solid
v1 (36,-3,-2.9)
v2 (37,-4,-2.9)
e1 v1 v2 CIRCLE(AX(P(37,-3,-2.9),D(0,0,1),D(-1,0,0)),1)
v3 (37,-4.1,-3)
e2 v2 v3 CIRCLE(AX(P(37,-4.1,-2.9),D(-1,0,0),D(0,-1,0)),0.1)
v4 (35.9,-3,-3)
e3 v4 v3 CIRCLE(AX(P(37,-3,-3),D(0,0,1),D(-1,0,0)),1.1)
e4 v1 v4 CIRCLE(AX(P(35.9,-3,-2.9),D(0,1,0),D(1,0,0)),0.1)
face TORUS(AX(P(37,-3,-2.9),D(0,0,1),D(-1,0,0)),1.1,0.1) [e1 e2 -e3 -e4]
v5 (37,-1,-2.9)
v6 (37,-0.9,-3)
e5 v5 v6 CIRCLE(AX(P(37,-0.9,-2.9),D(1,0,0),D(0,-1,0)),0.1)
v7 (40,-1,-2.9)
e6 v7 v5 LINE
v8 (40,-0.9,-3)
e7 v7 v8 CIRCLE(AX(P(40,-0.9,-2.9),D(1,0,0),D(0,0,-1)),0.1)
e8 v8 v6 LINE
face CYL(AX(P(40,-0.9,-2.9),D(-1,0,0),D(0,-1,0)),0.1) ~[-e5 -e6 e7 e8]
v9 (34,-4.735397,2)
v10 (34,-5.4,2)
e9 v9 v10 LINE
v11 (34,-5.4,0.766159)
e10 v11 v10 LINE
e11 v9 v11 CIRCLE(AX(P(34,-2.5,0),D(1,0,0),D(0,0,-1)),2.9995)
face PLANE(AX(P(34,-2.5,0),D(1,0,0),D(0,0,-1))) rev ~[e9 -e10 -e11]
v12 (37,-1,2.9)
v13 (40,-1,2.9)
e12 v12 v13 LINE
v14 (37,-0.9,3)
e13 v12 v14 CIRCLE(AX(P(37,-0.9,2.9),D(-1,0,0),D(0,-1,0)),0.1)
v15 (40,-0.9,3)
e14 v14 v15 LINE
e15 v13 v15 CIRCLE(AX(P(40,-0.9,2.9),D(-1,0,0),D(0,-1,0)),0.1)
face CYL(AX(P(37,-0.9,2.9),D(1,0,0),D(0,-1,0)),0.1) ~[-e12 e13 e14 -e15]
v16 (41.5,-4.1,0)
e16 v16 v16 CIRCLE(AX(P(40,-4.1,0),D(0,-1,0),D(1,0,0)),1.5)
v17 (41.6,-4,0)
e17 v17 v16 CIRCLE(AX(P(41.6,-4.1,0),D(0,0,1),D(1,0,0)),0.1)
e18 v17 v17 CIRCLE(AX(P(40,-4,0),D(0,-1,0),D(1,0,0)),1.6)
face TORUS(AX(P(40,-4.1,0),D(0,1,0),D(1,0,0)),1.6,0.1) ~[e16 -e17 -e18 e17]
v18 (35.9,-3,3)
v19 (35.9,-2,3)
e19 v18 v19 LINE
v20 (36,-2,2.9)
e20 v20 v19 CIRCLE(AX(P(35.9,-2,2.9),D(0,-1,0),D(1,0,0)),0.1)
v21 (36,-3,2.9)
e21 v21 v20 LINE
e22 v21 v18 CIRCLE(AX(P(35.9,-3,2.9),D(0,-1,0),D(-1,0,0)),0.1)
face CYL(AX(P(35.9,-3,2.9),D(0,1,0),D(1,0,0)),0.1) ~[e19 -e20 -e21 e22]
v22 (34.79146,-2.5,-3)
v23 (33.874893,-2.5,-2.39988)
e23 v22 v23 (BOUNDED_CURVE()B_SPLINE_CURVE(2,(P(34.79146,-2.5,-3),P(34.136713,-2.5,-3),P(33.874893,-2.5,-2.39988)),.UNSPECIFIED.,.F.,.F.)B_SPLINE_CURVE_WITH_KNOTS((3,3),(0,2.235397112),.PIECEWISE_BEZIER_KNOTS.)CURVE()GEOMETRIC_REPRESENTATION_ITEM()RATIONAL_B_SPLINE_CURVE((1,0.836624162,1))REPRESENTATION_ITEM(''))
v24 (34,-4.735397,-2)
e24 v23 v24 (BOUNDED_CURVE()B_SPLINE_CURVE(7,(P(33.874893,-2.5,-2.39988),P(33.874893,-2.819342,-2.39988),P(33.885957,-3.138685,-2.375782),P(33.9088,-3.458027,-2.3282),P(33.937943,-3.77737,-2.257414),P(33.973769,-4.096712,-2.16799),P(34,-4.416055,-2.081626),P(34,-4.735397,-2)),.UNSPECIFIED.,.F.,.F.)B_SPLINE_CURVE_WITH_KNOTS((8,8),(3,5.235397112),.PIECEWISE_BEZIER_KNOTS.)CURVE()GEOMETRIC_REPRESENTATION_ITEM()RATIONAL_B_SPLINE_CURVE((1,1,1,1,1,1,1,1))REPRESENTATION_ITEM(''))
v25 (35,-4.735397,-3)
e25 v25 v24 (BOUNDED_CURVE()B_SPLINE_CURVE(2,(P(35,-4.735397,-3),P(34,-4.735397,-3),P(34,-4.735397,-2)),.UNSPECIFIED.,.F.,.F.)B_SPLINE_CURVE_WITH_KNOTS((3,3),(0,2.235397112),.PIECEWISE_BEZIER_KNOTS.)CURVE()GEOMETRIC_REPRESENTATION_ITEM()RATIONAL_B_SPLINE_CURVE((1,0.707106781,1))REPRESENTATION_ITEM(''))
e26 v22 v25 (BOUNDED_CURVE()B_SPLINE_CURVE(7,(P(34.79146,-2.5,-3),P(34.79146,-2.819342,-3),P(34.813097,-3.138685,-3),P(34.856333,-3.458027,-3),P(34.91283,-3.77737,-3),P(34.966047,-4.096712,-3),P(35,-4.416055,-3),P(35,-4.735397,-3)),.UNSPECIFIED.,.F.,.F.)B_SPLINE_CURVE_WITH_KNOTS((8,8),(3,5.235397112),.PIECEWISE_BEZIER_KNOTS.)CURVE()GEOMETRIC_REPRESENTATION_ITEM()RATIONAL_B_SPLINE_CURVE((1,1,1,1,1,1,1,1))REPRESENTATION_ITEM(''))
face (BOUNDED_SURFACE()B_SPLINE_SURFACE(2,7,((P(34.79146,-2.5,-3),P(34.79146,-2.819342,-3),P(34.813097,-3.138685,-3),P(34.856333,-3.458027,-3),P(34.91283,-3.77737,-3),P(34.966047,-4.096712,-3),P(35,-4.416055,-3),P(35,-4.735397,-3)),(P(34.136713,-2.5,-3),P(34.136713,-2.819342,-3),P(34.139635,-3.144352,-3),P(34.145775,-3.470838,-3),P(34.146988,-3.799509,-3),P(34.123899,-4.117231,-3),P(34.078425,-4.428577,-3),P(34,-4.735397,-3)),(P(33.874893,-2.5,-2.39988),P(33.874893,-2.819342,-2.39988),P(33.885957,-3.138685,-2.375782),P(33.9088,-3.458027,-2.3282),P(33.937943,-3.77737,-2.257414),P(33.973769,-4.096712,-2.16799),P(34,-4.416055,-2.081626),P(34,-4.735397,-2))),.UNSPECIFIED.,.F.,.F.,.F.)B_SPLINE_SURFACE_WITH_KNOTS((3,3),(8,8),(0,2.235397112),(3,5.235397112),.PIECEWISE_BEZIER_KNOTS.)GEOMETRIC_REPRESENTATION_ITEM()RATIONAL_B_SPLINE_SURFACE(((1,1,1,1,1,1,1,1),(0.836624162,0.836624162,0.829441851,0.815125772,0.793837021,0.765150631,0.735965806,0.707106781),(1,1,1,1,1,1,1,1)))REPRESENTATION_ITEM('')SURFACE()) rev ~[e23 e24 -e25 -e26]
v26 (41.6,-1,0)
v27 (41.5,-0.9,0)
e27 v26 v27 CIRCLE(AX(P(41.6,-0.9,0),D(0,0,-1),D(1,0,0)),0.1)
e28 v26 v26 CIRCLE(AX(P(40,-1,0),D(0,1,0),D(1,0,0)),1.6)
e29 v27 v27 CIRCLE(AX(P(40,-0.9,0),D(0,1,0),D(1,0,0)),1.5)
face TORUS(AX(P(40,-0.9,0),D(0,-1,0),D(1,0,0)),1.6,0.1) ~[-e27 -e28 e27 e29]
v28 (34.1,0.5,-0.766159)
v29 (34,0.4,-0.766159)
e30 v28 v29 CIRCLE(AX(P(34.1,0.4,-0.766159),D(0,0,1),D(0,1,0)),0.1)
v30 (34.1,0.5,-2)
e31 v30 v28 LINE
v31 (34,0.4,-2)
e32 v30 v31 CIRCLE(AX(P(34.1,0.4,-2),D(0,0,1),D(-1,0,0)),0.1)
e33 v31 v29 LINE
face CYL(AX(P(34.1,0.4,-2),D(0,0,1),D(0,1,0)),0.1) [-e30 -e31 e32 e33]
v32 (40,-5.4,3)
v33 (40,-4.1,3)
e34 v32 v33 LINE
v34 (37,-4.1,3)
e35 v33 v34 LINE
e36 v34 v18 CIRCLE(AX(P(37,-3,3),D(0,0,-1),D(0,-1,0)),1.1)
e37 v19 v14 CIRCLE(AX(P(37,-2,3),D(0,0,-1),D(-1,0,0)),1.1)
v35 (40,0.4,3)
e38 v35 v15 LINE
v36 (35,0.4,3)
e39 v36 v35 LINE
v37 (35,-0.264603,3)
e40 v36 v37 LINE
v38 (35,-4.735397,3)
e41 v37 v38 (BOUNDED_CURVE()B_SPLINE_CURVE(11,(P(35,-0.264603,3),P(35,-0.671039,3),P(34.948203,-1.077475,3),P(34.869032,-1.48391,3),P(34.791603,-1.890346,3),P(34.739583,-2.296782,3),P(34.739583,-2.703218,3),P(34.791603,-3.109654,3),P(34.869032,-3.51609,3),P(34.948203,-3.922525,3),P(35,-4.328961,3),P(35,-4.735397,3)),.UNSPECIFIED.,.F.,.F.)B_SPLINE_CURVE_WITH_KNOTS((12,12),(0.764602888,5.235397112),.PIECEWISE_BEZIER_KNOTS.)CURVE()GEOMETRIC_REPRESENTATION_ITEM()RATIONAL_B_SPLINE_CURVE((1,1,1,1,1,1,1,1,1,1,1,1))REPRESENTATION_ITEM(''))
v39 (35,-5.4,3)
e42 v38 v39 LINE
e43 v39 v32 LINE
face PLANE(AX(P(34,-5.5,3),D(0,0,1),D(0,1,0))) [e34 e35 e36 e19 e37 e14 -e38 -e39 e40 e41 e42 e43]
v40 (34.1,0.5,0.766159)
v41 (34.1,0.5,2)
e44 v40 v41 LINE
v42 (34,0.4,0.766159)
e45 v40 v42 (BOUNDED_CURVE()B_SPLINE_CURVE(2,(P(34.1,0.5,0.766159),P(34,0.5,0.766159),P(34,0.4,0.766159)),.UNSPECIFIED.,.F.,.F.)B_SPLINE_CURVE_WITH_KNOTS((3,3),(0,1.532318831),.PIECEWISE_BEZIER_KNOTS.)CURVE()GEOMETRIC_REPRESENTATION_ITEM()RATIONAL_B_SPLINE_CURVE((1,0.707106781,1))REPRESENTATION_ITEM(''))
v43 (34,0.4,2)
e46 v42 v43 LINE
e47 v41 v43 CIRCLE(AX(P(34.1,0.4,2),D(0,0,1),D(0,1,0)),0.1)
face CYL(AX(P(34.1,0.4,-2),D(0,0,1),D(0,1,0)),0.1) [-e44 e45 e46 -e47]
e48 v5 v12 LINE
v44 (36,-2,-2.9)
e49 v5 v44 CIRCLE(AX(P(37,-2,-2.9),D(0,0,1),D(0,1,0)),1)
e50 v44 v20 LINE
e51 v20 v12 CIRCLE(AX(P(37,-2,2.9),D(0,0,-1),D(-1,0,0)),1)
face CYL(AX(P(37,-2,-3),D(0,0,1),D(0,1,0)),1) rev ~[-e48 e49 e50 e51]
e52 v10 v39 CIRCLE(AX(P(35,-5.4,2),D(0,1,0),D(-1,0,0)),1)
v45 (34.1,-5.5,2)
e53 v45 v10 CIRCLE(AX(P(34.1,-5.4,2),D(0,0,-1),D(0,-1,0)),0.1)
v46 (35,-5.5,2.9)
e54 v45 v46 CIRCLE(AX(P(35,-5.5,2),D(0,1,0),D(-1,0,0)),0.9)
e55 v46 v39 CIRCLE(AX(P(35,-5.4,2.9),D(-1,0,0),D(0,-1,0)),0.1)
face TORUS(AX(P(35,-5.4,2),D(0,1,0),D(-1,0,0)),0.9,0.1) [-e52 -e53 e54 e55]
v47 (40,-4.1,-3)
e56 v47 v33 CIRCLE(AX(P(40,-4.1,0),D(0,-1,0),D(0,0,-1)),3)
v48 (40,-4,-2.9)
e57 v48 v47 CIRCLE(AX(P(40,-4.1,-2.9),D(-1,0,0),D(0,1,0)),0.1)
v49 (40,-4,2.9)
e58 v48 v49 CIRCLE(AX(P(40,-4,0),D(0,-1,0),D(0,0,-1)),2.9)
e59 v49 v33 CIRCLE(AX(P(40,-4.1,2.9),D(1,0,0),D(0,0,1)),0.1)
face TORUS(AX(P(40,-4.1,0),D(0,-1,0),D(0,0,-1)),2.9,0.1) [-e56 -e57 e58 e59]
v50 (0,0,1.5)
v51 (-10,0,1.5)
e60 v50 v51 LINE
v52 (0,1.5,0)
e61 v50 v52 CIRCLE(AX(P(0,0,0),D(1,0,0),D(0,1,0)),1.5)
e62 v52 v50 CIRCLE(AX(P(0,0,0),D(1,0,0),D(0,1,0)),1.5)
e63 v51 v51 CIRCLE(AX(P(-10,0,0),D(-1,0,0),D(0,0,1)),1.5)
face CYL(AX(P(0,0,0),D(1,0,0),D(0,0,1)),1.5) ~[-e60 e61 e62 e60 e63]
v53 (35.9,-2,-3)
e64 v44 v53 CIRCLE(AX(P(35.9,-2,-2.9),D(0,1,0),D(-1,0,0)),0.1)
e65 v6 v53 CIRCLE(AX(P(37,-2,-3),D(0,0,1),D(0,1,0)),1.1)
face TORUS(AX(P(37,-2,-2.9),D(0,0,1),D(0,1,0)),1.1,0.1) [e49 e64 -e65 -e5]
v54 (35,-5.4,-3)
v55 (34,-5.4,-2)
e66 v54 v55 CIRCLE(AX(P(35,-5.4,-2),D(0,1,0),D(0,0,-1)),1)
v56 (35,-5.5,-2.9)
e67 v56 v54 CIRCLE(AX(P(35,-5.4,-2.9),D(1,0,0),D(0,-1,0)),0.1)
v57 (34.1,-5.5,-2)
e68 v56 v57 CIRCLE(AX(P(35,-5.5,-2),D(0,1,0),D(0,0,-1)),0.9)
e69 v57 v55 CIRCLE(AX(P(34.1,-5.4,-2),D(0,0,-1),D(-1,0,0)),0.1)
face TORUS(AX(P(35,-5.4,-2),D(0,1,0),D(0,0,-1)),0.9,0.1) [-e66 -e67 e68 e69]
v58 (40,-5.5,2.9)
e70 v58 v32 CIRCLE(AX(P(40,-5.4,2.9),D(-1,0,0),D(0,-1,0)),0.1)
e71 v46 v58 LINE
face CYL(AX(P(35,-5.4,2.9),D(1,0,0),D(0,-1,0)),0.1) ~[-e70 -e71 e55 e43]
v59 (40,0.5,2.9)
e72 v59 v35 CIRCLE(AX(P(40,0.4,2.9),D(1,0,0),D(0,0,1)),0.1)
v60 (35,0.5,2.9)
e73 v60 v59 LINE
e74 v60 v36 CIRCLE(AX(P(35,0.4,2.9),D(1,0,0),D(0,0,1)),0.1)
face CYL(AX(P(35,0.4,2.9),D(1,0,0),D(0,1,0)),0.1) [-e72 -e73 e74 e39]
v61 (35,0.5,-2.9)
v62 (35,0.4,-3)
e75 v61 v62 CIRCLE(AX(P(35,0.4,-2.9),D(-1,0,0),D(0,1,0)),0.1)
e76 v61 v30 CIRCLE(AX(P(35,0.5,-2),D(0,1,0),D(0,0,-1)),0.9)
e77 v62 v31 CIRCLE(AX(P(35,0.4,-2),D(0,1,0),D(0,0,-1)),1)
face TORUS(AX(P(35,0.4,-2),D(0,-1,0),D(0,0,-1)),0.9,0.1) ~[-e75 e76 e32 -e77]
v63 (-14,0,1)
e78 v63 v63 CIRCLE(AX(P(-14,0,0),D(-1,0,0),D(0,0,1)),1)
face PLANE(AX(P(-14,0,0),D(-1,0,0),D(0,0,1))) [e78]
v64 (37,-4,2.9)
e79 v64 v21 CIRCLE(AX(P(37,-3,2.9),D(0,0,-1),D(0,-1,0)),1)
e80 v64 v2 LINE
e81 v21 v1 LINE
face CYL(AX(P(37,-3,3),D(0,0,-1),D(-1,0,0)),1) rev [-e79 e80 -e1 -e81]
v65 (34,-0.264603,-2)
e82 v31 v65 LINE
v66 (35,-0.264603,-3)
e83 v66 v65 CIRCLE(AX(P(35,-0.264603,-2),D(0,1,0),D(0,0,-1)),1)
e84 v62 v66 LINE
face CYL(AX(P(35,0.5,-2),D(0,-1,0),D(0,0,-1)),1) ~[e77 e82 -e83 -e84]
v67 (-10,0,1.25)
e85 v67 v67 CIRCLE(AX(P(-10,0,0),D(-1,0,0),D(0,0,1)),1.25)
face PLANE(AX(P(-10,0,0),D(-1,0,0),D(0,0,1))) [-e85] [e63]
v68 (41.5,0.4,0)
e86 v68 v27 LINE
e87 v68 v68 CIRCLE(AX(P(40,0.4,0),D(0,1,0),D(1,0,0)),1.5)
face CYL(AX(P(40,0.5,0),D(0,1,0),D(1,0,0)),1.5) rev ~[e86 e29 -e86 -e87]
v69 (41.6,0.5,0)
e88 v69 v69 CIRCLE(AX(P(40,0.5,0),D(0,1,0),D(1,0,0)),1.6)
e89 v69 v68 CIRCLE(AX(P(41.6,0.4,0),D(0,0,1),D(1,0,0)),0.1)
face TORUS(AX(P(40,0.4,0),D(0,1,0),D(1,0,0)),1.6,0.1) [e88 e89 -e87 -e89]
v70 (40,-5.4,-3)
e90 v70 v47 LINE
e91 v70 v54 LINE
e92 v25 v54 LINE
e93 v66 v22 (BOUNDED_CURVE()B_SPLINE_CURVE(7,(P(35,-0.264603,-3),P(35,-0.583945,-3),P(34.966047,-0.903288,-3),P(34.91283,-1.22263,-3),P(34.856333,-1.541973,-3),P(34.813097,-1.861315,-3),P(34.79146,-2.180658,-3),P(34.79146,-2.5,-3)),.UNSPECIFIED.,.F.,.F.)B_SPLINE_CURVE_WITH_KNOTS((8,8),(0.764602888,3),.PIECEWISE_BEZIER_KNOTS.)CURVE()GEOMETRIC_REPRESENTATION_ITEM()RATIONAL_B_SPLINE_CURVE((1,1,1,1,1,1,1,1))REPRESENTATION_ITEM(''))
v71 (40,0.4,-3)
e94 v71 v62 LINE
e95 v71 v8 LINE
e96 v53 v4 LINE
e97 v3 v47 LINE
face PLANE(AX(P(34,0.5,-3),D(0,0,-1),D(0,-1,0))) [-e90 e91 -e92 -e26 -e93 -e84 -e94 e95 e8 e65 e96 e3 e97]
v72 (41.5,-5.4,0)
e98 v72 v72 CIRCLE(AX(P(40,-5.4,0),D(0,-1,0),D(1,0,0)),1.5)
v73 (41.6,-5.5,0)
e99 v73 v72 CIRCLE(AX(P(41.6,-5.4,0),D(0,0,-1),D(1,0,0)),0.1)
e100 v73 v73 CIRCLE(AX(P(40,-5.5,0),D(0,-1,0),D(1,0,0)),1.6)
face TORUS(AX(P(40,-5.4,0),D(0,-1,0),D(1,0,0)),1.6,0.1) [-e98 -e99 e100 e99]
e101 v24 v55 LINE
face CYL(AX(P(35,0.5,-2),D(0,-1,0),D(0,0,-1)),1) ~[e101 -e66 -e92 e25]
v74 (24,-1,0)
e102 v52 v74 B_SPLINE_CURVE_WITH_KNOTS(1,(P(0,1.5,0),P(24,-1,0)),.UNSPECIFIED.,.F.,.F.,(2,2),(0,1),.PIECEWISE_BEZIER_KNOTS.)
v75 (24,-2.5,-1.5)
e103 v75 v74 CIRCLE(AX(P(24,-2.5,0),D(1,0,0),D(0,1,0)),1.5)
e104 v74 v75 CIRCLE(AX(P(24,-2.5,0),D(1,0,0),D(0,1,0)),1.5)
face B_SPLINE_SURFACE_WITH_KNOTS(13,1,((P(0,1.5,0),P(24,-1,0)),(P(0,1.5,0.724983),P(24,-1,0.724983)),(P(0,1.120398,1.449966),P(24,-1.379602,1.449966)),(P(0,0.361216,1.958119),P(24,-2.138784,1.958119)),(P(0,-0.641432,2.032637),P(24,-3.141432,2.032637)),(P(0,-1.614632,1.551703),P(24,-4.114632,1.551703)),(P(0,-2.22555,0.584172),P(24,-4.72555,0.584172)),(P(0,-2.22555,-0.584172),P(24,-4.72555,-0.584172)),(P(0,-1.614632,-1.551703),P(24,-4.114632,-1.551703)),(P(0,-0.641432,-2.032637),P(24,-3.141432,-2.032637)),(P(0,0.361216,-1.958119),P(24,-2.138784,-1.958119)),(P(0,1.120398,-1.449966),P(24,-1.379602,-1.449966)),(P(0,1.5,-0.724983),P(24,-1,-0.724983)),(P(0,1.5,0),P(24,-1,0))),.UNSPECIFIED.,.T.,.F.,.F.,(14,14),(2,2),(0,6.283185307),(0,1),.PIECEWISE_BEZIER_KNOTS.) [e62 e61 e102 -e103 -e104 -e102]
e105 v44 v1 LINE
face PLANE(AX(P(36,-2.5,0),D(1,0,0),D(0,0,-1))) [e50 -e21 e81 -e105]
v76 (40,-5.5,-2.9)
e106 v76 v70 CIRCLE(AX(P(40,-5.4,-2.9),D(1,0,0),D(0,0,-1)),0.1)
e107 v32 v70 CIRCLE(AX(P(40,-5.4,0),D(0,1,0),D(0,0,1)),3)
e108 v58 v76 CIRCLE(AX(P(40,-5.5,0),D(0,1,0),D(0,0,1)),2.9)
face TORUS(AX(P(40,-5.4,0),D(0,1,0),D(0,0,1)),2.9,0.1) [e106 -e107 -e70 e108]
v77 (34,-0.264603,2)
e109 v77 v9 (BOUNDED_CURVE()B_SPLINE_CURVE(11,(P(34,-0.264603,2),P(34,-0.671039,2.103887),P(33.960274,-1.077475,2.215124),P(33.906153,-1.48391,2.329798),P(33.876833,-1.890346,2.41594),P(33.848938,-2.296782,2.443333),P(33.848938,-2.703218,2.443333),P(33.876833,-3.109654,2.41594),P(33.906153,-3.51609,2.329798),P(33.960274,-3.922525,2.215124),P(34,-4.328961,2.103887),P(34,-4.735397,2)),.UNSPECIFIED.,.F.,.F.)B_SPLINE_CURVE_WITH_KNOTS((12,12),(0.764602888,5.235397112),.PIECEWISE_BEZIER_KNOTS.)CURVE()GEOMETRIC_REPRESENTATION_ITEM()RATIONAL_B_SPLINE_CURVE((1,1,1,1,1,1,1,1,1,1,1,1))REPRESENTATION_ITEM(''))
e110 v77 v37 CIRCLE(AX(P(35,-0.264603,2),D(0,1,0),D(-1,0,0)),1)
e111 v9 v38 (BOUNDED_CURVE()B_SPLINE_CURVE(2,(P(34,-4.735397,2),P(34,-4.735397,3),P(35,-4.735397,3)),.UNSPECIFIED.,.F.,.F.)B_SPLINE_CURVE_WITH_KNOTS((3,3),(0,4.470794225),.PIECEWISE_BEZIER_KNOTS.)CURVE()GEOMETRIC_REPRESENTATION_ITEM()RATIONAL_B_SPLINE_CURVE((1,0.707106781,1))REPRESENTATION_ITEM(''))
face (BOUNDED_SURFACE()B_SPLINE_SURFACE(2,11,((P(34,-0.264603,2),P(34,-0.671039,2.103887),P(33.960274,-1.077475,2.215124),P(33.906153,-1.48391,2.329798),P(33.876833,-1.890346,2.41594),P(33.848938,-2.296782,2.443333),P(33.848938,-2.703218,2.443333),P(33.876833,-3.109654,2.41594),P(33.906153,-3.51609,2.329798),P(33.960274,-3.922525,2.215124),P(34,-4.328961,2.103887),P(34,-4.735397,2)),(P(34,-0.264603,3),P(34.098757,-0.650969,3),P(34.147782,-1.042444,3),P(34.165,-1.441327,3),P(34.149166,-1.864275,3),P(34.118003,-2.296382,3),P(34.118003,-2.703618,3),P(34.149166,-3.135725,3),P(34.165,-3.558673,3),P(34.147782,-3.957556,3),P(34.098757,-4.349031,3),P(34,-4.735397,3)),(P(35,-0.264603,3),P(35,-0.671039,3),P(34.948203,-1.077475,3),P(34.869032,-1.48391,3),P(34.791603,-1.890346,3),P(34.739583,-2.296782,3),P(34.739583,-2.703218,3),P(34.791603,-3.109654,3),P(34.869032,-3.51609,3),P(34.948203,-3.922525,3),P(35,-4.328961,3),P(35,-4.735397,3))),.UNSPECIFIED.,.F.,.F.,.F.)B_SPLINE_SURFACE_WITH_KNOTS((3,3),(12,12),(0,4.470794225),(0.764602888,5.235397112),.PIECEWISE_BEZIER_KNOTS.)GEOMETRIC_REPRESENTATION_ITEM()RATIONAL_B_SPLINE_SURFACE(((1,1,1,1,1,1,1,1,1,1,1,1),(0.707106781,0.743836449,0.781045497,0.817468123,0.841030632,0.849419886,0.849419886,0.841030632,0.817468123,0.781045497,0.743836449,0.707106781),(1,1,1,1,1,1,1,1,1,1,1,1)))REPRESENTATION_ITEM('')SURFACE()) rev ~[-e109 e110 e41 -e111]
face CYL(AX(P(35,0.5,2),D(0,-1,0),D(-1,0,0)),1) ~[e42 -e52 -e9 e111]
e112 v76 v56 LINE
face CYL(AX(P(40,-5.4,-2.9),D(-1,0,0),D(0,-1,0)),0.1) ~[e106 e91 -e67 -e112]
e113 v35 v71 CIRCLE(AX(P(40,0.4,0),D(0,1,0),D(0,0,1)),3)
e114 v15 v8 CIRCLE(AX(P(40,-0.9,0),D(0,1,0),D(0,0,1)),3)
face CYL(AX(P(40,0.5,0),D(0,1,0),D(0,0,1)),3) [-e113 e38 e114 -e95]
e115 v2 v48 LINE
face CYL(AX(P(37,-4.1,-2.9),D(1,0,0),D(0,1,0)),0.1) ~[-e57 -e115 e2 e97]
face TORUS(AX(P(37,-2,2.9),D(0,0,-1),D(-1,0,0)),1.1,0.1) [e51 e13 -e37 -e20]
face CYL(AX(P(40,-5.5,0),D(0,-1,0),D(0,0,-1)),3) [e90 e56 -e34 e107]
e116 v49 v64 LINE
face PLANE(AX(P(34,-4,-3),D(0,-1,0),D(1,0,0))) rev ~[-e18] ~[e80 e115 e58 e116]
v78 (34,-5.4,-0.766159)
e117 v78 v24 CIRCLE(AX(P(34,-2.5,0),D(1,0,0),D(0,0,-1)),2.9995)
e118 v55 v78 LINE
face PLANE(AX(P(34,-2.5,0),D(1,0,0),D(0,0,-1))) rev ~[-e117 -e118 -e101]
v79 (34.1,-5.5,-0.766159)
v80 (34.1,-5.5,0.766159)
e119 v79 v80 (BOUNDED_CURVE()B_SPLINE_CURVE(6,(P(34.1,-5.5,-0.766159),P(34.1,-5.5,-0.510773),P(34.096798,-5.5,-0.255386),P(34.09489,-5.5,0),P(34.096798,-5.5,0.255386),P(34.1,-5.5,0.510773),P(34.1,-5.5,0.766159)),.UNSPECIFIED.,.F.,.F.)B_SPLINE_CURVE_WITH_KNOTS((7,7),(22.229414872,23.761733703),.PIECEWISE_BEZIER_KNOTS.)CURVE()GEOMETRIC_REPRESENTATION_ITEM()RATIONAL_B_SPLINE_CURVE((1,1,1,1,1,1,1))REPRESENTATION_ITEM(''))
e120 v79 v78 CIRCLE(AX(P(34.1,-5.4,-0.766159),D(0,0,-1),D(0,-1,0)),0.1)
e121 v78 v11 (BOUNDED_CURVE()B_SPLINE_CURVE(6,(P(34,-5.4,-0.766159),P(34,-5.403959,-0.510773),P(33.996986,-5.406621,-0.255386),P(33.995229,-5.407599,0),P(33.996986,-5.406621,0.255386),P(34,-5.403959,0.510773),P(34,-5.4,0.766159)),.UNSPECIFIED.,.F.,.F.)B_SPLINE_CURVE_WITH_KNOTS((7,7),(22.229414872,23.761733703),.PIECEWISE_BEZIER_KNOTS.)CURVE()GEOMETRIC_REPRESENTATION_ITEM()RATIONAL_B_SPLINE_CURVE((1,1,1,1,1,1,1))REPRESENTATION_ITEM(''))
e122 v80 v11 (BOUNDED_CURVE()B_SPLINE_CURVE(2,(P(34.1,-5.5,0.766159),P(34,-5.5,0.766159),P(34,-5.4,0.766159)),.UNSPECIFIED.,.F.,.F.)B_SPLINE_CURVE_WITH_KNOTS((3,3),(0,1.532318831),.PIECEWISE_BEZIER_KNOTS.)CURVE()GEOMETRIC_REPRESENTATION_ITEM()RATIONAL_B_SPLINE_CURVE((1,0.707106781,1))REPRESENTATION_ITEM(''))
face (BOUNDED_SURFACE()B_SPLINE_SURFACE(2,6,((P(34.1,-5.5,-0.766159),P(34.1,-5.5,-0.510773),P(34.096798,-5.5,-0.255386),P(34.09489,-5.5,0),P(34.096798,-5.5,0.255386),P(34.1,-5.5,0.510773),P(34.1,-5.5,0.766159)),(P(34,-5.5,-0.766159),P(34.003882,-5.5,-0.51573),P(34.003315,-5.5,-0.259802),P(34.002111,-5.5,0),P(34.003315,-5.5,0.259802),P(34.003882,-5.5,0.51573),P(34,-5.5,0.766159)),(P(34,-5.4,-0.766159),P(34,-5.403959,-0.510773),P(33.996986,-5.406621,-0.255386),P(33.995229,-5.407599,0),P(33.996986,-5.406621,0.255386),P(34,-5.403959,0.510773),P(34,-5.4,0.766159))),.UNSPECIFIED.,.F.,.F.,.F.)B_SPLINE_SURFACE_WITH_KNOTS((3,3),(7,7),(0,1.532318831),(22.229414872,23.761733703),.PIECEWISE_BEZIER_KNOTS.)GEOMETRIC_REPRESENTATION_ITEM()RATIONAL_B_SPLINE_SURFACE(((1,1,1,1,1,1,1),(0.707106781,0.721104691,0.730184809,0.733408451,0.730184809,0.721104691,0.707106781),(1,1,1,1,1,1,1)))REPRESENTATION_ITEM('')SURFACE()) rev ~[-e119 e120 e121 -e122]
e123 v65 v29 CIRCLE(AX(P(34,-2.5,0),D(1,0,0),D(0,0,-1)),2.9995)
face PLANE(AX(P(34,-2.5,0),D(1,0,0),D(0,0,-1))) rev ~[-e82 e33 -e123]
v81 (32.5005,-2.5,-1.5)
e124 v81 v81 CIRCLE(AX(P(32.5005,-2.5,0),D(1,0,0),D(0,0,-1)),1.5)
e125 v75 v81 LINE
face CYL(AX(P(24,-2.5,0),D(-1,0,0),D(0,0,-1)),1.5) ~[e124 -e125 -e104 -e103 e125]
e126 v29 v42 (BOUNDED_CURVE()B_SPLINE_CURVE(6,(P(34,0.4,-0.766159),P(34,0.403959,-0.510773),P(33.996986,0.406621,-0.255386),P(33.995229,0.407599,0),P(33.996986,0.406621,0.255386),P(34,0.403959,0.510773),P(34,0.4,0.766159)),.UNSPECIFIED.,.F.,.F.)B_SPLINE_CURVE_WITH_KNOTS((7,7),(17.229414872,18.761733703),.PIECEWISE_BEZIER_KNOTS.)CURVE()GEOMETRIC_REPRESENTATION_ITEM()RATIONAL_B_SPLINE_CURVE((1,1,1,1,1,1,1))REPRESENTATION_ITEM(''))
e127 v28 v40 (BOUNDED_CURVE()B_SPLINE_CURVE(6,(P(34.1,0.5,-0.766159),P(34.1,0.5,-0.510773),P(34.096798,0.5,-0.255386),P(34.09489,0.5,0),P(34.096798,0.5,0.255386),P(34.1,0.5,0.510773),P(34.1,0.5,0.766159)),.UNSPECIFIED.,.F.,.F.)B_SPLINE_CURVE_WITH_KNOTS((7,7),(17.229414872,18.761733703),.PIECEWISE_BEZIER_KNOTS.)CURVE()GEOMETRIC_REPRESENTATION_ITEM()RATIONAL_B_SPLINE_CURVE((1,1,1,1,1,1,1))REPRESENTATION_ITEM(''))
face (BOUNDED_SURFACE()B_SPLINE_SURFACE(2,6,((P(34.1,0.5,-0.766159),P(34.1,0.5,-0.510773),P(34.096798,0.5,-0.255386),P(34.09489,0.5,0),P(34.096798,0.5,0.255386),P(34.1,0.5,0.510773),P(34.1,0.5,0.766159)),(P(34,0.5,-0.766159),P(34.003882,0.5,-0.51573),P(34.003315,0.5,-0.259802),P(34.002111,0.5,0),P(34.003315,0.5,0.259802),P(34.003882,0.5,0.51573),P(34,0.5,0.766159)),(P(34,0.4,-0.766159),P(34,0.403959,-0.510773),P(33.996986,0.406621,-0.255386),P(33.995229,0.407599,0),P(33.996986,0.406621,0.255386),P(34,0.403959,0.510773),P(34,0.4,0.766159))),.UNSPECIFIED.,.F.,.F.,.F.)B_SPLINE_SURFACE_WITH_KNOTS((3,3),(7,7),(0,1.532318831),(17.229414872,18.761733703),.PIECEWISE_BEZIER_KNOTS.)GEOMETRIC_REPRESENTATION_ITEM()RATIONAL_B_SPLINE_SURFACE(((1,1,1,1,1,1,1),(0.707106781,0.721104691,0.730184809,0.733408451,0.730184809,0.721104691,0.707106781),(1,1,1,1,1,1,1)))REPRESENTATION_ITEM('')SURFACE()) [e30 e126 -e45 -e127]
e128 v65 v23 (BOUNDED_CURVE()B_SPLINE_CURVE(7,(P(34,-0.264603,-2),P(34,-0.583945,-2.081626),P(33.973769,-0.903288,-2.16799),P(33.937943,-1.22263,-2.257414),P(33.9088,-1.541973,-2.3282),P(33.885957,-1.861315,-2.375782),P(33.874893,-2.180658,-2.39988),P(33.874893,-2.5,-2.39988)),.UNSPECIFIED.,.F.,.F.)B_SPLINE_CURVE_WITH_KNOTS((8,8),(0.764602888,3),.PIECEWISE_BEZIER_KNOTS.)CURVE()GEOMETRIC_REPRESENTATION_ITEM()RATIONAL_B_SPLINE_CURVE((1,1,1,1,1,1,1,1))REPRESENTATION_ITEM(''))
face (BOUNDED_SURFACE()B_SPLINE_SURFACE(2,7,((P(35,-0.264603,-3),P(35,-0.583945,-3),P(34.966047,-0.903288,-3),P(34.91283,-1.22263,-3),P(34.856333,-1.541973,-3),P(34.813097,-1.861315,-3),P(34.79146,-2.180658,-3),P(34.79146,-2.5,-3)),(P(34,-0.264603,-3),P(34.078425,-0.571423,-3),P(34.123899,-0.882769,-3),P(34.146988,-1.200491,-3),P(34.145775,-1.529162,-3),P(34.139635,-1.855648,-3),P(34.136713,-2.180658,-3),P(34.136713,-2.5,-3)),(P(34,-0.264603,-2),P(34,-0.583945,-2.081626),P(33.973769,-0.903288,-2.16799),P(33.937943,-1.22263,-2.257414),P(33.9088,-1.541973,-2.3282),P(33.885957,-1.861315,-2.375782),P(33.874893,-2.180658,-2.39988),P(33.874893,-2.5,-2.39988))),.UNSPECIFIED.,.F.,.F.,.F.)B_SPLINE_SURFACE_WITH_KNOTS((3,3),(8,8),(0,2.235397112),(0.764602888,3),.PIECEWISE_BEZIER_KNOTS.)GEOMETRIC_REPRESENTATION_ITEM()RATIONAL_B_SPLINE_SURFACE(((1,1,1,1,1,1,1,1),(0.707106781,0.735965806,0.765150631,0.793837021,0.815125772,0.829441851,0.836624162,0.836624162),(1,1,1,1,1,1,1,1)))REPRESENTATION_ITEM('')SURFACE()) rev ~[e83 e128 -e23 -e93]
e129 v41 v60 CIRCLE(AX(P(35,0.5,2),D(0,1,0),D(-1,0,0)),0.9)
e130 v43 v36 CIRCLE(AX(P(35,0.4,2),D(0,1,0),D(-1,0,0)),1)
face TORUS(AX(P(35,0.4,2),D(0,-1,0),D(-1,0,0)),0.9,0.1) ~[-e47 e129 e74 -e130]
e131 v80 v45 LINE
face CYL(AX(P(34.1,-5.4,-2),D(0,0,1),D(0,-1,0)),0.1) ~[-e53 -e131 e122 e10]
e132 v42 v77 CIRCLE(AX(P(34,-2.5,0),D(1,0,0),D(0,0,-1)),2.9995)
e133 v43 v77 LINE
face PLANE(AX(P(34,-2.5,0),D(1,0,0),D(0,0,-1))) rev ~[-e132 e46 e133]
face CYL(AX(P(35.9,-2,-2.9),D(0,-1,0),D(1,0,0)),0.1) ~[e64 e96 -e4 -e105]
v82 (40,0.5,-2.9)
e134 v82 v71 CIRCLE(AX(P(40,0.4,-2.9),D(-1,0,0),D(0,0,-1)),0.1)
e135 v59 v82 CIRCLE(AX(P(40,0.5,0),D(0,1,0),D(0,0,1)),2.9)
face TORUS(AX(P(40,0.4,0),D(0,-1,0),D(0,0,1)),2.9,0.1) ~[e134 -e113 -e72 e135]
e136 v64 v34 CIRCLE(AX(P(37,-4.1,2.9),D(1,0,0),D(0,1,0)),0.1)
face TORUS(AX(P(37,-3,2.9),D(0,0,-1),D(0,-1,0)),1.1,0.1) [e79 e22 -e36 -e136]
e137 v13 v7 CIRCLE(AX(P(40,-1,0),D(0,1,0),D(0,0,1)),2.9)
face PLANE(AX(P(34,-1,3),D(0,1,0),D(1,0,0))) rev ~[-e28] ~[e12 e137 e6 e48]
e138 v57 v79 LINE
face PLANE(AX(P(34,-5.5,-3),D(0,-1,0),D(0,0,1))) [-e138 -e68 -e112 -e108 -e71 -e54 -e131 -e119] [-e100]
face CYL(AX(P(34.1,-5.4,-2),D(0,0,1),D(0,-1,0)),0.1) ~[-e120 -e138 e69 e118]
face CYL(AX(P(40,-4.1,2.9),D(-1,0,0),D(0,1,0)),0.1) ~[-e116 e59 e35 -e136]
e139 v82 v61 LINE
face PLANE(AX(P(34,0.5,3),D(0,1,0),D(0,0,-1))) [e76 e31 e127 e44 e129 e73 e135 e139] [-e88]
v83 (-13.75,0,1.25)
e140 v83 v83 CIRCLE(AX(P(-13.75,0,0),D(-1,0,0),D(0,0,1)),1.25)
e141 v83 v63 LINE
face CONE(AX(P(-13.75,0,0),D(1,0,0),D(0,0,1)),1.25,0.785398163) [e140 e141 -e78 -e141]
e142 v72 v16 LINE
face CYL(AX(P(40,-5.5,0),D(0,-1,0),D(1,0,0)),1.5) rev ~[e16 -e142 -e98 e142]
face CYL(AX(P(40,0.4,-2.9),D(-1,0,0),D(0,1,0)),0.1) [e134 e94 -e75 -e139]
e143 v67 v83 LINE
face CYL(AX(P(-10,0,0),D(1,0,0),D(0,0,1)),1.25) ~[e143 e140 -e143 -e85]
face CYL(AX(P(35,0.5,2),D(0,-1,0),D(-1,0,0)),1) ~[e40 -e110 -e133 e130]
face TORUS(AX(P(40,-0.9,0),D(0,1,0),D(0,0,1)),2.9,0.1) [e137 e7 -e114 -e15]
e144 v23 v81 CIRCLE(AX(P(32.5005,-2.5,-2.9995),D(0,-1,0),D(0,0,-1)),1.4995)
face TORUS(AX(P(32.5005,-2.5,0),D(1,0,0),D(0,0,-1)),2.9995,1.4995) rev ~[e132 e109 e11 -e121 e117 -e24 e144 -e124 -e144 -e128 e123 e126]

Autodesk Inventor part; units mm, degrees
ref_plane "XZ Plane" through (0, 0, 0) normal (0, 1, 0) x (-1, 0, 0)
ref_plane "XY Plane" through (0, 0, 0) normal (0, 0, 1) x (1, 0, 0)
sketch "Sketch1" plane through (0, 0, 0) normal (1, 0, 0) x (0, 1, 0)
  circle A0 centre (0, 0) radius 1.5
  dimension "d0" = 3
ref_plane "Work Plane1" through (24, 0, 0) normal (1, 0, 0) x (0, 1, 0)
sketch "Sketch2" plane through (24, 0, 0) normal (1, 0, 0) x (0, 1, 0)
  line L0 (0, 0) -> (-2.5, 0) construction
  circle A0 centre (-2.5, 0) radius 1.5
  dimension "d2" = 2.5
  dimension "d3" = 3
loft "Loft1" add profiles "Sketch1", "Sketch2"
sketch "Sketch3" plane through (0, 0, 0) normal (-1, 0, 0) x (0, 0, 1)
  circle A0 centre (0, 0) radius 1.5 projected
  circle A1 centre (0, 0) radius 1.5
  dimension "d8" = 3
extrude "Extrusion1" add sketch "Sketch3" along normal blind 10
sketch "Sketch4" plane through (-10, 0, 0) normal (-1, 0, 0) x (0, 0, 1)
  circle A0 centre (0, 0) radius 1.25
  dimension "d11" = 2.5
extrude "Extrusion2" add sketch "Sketch4" along normal blind 4
thread "Thread1" size "M2.5x0.45" class "6g" standard "ANSI Metric M Profile" full length
chamfer "Chamfer1" distance 0.25 angle 45 1 edges at (-14, 0, -1.25)
sketch "Sketch5" plane through (24, -2.5, 0) normal (1, 0, 0) x (0, 0, -1)
  circle A0 centre (0, 0) radius 1.5
  circle A1 centre (0, 0) radius 1.5 projected
  line L0 (-1.4999, -0.019) -> (-1.4999, 7.557) construction
  point P0 (0, 2.5)
  dimension "d16" = 3
  dimension "d17" = 2.5
  dimension "d18" = 1.4999
extrude "Extrusion3" add sketch "Sketch5" along normal blind 10
sketch "Sketch6" plane through (34, -2.5, 0) normal (1, 0, 0) x (0, 0, -1)
  line L0 (-3, 3) -> (3, 3)
  line L1 (3, 3) -> (3, -3)
  line L2 (3, -3) -> (-3, -3)
  line L3 (-3, -3) -> (-3, 3)
  line L4 (-3, 3) -> (3, -3) construction
  line L5 (3, 3) -> (-3, -3) construction
  point P0 (0, 2.5)
  point P1 (0, 0)
  dimension "d24" = 6
  dimension "d25" = 6
  dimension "d26" = 3
  dimension "d27" = 0.5
extrude "Extrusion4" add sketch "Sketch6" along normal blind 2
sketch "Sketch7" plane through (34, 0.5, 3) normal (0, 1, 0) x (1, 0, 0)
  line L0 (0, 0) -> (0, 6) projected
  line L1 (0, 6) -> (0, 0)
  line L2 (0, 6) -> (6, 6)
  line L3 (0, 0) -> (6, 0)
  circle A0 centre (6, 3) radius 1.5
  arc A1 (6, 0) -> (6, 6) centre (6, 3) ccw
  point P0 (-34, 3)
  dimension "d30" = 6
  dimension "d32" = 3
extrude "Extrusion5" add sketch "Sketch7" against normal blind 1.5
sketch "Sketch8" plane through (34, -5.5, -3) normal (0, -1, 0) x (1, 0, 0)
  line L0 (0, 0) -> (0, 6) projected
  line L1 (0, 6) -> (0, 0)
  arc A0 (6, 0) -> (6, 6) centre (6, 3) ccw projected
  line L2 (0, 6) -> (6, 6)
  line L3 (0, 6) -> (6, 6) construction
  line L4 (0, 0) -> (6, 0) projected
  line L5 (0, 0) -> (6, 0)
  circle A1 centre (6, 3) radius 1.5
  line L6 (0, 6) -> (6, 6) projected
  arc A2 (6, 0) -> (6, 6) centre (6, 3) ccw
  point P0 (-34, 3)
  dimension "d35" = 6
  dimension "d36" = 0
  dimension "d37" = 3
extrude "Extrusion6" add sketch "Sketch8" against normal blind 1.5
fillet "Fillet2" radius 1.5 1 edges at (34, -2.5, 1.5)
fillet "Fillet4" radius 1 1 edges at (36, -1, 0)
fillet "Fillet5" radius 1 1 edges at (36, -4, 0)
fillet "Fillet6" radius 1 2 edges at (34, -2.5, 3) (34, -2.5, -3)
fillet "Fillet7" radius 0.1 28 edges at (38.5, -1, 3) (36.2929, -1.2929, 3) (36, -2.5, 3) (36.2929, -3.7071, 3) (38.5, -4, 3) (43, -4, 0) (38.5, -4, -3) (36.2929, -3.7071, -3) (36, -2.5, -3) (36.2929, -1.2929, -3) (38.5, -1, -3) (43, -1, 0) (38.5, 0.5, 0) (38.5, -4, 0) (38.5, -5.5, 0) (38.5, -1, 0) (43, 0.5, 0) (37.5, 0.5, -3) (34.2929, 0.5, -2.7071) (34, 0.5, 0) (34.2929, 0.5, 2.7071) (37.5, 0.5, 3) (37.5, -5.5, 3) (34.2929, -5.5, 2.7071) (34, -5.5, 0) (34.2929, -5.5, -2.7071) (37.5, -5.5, -3) (43, -5.5, 0)
properties part number "eccentric rod" material "Steel"
